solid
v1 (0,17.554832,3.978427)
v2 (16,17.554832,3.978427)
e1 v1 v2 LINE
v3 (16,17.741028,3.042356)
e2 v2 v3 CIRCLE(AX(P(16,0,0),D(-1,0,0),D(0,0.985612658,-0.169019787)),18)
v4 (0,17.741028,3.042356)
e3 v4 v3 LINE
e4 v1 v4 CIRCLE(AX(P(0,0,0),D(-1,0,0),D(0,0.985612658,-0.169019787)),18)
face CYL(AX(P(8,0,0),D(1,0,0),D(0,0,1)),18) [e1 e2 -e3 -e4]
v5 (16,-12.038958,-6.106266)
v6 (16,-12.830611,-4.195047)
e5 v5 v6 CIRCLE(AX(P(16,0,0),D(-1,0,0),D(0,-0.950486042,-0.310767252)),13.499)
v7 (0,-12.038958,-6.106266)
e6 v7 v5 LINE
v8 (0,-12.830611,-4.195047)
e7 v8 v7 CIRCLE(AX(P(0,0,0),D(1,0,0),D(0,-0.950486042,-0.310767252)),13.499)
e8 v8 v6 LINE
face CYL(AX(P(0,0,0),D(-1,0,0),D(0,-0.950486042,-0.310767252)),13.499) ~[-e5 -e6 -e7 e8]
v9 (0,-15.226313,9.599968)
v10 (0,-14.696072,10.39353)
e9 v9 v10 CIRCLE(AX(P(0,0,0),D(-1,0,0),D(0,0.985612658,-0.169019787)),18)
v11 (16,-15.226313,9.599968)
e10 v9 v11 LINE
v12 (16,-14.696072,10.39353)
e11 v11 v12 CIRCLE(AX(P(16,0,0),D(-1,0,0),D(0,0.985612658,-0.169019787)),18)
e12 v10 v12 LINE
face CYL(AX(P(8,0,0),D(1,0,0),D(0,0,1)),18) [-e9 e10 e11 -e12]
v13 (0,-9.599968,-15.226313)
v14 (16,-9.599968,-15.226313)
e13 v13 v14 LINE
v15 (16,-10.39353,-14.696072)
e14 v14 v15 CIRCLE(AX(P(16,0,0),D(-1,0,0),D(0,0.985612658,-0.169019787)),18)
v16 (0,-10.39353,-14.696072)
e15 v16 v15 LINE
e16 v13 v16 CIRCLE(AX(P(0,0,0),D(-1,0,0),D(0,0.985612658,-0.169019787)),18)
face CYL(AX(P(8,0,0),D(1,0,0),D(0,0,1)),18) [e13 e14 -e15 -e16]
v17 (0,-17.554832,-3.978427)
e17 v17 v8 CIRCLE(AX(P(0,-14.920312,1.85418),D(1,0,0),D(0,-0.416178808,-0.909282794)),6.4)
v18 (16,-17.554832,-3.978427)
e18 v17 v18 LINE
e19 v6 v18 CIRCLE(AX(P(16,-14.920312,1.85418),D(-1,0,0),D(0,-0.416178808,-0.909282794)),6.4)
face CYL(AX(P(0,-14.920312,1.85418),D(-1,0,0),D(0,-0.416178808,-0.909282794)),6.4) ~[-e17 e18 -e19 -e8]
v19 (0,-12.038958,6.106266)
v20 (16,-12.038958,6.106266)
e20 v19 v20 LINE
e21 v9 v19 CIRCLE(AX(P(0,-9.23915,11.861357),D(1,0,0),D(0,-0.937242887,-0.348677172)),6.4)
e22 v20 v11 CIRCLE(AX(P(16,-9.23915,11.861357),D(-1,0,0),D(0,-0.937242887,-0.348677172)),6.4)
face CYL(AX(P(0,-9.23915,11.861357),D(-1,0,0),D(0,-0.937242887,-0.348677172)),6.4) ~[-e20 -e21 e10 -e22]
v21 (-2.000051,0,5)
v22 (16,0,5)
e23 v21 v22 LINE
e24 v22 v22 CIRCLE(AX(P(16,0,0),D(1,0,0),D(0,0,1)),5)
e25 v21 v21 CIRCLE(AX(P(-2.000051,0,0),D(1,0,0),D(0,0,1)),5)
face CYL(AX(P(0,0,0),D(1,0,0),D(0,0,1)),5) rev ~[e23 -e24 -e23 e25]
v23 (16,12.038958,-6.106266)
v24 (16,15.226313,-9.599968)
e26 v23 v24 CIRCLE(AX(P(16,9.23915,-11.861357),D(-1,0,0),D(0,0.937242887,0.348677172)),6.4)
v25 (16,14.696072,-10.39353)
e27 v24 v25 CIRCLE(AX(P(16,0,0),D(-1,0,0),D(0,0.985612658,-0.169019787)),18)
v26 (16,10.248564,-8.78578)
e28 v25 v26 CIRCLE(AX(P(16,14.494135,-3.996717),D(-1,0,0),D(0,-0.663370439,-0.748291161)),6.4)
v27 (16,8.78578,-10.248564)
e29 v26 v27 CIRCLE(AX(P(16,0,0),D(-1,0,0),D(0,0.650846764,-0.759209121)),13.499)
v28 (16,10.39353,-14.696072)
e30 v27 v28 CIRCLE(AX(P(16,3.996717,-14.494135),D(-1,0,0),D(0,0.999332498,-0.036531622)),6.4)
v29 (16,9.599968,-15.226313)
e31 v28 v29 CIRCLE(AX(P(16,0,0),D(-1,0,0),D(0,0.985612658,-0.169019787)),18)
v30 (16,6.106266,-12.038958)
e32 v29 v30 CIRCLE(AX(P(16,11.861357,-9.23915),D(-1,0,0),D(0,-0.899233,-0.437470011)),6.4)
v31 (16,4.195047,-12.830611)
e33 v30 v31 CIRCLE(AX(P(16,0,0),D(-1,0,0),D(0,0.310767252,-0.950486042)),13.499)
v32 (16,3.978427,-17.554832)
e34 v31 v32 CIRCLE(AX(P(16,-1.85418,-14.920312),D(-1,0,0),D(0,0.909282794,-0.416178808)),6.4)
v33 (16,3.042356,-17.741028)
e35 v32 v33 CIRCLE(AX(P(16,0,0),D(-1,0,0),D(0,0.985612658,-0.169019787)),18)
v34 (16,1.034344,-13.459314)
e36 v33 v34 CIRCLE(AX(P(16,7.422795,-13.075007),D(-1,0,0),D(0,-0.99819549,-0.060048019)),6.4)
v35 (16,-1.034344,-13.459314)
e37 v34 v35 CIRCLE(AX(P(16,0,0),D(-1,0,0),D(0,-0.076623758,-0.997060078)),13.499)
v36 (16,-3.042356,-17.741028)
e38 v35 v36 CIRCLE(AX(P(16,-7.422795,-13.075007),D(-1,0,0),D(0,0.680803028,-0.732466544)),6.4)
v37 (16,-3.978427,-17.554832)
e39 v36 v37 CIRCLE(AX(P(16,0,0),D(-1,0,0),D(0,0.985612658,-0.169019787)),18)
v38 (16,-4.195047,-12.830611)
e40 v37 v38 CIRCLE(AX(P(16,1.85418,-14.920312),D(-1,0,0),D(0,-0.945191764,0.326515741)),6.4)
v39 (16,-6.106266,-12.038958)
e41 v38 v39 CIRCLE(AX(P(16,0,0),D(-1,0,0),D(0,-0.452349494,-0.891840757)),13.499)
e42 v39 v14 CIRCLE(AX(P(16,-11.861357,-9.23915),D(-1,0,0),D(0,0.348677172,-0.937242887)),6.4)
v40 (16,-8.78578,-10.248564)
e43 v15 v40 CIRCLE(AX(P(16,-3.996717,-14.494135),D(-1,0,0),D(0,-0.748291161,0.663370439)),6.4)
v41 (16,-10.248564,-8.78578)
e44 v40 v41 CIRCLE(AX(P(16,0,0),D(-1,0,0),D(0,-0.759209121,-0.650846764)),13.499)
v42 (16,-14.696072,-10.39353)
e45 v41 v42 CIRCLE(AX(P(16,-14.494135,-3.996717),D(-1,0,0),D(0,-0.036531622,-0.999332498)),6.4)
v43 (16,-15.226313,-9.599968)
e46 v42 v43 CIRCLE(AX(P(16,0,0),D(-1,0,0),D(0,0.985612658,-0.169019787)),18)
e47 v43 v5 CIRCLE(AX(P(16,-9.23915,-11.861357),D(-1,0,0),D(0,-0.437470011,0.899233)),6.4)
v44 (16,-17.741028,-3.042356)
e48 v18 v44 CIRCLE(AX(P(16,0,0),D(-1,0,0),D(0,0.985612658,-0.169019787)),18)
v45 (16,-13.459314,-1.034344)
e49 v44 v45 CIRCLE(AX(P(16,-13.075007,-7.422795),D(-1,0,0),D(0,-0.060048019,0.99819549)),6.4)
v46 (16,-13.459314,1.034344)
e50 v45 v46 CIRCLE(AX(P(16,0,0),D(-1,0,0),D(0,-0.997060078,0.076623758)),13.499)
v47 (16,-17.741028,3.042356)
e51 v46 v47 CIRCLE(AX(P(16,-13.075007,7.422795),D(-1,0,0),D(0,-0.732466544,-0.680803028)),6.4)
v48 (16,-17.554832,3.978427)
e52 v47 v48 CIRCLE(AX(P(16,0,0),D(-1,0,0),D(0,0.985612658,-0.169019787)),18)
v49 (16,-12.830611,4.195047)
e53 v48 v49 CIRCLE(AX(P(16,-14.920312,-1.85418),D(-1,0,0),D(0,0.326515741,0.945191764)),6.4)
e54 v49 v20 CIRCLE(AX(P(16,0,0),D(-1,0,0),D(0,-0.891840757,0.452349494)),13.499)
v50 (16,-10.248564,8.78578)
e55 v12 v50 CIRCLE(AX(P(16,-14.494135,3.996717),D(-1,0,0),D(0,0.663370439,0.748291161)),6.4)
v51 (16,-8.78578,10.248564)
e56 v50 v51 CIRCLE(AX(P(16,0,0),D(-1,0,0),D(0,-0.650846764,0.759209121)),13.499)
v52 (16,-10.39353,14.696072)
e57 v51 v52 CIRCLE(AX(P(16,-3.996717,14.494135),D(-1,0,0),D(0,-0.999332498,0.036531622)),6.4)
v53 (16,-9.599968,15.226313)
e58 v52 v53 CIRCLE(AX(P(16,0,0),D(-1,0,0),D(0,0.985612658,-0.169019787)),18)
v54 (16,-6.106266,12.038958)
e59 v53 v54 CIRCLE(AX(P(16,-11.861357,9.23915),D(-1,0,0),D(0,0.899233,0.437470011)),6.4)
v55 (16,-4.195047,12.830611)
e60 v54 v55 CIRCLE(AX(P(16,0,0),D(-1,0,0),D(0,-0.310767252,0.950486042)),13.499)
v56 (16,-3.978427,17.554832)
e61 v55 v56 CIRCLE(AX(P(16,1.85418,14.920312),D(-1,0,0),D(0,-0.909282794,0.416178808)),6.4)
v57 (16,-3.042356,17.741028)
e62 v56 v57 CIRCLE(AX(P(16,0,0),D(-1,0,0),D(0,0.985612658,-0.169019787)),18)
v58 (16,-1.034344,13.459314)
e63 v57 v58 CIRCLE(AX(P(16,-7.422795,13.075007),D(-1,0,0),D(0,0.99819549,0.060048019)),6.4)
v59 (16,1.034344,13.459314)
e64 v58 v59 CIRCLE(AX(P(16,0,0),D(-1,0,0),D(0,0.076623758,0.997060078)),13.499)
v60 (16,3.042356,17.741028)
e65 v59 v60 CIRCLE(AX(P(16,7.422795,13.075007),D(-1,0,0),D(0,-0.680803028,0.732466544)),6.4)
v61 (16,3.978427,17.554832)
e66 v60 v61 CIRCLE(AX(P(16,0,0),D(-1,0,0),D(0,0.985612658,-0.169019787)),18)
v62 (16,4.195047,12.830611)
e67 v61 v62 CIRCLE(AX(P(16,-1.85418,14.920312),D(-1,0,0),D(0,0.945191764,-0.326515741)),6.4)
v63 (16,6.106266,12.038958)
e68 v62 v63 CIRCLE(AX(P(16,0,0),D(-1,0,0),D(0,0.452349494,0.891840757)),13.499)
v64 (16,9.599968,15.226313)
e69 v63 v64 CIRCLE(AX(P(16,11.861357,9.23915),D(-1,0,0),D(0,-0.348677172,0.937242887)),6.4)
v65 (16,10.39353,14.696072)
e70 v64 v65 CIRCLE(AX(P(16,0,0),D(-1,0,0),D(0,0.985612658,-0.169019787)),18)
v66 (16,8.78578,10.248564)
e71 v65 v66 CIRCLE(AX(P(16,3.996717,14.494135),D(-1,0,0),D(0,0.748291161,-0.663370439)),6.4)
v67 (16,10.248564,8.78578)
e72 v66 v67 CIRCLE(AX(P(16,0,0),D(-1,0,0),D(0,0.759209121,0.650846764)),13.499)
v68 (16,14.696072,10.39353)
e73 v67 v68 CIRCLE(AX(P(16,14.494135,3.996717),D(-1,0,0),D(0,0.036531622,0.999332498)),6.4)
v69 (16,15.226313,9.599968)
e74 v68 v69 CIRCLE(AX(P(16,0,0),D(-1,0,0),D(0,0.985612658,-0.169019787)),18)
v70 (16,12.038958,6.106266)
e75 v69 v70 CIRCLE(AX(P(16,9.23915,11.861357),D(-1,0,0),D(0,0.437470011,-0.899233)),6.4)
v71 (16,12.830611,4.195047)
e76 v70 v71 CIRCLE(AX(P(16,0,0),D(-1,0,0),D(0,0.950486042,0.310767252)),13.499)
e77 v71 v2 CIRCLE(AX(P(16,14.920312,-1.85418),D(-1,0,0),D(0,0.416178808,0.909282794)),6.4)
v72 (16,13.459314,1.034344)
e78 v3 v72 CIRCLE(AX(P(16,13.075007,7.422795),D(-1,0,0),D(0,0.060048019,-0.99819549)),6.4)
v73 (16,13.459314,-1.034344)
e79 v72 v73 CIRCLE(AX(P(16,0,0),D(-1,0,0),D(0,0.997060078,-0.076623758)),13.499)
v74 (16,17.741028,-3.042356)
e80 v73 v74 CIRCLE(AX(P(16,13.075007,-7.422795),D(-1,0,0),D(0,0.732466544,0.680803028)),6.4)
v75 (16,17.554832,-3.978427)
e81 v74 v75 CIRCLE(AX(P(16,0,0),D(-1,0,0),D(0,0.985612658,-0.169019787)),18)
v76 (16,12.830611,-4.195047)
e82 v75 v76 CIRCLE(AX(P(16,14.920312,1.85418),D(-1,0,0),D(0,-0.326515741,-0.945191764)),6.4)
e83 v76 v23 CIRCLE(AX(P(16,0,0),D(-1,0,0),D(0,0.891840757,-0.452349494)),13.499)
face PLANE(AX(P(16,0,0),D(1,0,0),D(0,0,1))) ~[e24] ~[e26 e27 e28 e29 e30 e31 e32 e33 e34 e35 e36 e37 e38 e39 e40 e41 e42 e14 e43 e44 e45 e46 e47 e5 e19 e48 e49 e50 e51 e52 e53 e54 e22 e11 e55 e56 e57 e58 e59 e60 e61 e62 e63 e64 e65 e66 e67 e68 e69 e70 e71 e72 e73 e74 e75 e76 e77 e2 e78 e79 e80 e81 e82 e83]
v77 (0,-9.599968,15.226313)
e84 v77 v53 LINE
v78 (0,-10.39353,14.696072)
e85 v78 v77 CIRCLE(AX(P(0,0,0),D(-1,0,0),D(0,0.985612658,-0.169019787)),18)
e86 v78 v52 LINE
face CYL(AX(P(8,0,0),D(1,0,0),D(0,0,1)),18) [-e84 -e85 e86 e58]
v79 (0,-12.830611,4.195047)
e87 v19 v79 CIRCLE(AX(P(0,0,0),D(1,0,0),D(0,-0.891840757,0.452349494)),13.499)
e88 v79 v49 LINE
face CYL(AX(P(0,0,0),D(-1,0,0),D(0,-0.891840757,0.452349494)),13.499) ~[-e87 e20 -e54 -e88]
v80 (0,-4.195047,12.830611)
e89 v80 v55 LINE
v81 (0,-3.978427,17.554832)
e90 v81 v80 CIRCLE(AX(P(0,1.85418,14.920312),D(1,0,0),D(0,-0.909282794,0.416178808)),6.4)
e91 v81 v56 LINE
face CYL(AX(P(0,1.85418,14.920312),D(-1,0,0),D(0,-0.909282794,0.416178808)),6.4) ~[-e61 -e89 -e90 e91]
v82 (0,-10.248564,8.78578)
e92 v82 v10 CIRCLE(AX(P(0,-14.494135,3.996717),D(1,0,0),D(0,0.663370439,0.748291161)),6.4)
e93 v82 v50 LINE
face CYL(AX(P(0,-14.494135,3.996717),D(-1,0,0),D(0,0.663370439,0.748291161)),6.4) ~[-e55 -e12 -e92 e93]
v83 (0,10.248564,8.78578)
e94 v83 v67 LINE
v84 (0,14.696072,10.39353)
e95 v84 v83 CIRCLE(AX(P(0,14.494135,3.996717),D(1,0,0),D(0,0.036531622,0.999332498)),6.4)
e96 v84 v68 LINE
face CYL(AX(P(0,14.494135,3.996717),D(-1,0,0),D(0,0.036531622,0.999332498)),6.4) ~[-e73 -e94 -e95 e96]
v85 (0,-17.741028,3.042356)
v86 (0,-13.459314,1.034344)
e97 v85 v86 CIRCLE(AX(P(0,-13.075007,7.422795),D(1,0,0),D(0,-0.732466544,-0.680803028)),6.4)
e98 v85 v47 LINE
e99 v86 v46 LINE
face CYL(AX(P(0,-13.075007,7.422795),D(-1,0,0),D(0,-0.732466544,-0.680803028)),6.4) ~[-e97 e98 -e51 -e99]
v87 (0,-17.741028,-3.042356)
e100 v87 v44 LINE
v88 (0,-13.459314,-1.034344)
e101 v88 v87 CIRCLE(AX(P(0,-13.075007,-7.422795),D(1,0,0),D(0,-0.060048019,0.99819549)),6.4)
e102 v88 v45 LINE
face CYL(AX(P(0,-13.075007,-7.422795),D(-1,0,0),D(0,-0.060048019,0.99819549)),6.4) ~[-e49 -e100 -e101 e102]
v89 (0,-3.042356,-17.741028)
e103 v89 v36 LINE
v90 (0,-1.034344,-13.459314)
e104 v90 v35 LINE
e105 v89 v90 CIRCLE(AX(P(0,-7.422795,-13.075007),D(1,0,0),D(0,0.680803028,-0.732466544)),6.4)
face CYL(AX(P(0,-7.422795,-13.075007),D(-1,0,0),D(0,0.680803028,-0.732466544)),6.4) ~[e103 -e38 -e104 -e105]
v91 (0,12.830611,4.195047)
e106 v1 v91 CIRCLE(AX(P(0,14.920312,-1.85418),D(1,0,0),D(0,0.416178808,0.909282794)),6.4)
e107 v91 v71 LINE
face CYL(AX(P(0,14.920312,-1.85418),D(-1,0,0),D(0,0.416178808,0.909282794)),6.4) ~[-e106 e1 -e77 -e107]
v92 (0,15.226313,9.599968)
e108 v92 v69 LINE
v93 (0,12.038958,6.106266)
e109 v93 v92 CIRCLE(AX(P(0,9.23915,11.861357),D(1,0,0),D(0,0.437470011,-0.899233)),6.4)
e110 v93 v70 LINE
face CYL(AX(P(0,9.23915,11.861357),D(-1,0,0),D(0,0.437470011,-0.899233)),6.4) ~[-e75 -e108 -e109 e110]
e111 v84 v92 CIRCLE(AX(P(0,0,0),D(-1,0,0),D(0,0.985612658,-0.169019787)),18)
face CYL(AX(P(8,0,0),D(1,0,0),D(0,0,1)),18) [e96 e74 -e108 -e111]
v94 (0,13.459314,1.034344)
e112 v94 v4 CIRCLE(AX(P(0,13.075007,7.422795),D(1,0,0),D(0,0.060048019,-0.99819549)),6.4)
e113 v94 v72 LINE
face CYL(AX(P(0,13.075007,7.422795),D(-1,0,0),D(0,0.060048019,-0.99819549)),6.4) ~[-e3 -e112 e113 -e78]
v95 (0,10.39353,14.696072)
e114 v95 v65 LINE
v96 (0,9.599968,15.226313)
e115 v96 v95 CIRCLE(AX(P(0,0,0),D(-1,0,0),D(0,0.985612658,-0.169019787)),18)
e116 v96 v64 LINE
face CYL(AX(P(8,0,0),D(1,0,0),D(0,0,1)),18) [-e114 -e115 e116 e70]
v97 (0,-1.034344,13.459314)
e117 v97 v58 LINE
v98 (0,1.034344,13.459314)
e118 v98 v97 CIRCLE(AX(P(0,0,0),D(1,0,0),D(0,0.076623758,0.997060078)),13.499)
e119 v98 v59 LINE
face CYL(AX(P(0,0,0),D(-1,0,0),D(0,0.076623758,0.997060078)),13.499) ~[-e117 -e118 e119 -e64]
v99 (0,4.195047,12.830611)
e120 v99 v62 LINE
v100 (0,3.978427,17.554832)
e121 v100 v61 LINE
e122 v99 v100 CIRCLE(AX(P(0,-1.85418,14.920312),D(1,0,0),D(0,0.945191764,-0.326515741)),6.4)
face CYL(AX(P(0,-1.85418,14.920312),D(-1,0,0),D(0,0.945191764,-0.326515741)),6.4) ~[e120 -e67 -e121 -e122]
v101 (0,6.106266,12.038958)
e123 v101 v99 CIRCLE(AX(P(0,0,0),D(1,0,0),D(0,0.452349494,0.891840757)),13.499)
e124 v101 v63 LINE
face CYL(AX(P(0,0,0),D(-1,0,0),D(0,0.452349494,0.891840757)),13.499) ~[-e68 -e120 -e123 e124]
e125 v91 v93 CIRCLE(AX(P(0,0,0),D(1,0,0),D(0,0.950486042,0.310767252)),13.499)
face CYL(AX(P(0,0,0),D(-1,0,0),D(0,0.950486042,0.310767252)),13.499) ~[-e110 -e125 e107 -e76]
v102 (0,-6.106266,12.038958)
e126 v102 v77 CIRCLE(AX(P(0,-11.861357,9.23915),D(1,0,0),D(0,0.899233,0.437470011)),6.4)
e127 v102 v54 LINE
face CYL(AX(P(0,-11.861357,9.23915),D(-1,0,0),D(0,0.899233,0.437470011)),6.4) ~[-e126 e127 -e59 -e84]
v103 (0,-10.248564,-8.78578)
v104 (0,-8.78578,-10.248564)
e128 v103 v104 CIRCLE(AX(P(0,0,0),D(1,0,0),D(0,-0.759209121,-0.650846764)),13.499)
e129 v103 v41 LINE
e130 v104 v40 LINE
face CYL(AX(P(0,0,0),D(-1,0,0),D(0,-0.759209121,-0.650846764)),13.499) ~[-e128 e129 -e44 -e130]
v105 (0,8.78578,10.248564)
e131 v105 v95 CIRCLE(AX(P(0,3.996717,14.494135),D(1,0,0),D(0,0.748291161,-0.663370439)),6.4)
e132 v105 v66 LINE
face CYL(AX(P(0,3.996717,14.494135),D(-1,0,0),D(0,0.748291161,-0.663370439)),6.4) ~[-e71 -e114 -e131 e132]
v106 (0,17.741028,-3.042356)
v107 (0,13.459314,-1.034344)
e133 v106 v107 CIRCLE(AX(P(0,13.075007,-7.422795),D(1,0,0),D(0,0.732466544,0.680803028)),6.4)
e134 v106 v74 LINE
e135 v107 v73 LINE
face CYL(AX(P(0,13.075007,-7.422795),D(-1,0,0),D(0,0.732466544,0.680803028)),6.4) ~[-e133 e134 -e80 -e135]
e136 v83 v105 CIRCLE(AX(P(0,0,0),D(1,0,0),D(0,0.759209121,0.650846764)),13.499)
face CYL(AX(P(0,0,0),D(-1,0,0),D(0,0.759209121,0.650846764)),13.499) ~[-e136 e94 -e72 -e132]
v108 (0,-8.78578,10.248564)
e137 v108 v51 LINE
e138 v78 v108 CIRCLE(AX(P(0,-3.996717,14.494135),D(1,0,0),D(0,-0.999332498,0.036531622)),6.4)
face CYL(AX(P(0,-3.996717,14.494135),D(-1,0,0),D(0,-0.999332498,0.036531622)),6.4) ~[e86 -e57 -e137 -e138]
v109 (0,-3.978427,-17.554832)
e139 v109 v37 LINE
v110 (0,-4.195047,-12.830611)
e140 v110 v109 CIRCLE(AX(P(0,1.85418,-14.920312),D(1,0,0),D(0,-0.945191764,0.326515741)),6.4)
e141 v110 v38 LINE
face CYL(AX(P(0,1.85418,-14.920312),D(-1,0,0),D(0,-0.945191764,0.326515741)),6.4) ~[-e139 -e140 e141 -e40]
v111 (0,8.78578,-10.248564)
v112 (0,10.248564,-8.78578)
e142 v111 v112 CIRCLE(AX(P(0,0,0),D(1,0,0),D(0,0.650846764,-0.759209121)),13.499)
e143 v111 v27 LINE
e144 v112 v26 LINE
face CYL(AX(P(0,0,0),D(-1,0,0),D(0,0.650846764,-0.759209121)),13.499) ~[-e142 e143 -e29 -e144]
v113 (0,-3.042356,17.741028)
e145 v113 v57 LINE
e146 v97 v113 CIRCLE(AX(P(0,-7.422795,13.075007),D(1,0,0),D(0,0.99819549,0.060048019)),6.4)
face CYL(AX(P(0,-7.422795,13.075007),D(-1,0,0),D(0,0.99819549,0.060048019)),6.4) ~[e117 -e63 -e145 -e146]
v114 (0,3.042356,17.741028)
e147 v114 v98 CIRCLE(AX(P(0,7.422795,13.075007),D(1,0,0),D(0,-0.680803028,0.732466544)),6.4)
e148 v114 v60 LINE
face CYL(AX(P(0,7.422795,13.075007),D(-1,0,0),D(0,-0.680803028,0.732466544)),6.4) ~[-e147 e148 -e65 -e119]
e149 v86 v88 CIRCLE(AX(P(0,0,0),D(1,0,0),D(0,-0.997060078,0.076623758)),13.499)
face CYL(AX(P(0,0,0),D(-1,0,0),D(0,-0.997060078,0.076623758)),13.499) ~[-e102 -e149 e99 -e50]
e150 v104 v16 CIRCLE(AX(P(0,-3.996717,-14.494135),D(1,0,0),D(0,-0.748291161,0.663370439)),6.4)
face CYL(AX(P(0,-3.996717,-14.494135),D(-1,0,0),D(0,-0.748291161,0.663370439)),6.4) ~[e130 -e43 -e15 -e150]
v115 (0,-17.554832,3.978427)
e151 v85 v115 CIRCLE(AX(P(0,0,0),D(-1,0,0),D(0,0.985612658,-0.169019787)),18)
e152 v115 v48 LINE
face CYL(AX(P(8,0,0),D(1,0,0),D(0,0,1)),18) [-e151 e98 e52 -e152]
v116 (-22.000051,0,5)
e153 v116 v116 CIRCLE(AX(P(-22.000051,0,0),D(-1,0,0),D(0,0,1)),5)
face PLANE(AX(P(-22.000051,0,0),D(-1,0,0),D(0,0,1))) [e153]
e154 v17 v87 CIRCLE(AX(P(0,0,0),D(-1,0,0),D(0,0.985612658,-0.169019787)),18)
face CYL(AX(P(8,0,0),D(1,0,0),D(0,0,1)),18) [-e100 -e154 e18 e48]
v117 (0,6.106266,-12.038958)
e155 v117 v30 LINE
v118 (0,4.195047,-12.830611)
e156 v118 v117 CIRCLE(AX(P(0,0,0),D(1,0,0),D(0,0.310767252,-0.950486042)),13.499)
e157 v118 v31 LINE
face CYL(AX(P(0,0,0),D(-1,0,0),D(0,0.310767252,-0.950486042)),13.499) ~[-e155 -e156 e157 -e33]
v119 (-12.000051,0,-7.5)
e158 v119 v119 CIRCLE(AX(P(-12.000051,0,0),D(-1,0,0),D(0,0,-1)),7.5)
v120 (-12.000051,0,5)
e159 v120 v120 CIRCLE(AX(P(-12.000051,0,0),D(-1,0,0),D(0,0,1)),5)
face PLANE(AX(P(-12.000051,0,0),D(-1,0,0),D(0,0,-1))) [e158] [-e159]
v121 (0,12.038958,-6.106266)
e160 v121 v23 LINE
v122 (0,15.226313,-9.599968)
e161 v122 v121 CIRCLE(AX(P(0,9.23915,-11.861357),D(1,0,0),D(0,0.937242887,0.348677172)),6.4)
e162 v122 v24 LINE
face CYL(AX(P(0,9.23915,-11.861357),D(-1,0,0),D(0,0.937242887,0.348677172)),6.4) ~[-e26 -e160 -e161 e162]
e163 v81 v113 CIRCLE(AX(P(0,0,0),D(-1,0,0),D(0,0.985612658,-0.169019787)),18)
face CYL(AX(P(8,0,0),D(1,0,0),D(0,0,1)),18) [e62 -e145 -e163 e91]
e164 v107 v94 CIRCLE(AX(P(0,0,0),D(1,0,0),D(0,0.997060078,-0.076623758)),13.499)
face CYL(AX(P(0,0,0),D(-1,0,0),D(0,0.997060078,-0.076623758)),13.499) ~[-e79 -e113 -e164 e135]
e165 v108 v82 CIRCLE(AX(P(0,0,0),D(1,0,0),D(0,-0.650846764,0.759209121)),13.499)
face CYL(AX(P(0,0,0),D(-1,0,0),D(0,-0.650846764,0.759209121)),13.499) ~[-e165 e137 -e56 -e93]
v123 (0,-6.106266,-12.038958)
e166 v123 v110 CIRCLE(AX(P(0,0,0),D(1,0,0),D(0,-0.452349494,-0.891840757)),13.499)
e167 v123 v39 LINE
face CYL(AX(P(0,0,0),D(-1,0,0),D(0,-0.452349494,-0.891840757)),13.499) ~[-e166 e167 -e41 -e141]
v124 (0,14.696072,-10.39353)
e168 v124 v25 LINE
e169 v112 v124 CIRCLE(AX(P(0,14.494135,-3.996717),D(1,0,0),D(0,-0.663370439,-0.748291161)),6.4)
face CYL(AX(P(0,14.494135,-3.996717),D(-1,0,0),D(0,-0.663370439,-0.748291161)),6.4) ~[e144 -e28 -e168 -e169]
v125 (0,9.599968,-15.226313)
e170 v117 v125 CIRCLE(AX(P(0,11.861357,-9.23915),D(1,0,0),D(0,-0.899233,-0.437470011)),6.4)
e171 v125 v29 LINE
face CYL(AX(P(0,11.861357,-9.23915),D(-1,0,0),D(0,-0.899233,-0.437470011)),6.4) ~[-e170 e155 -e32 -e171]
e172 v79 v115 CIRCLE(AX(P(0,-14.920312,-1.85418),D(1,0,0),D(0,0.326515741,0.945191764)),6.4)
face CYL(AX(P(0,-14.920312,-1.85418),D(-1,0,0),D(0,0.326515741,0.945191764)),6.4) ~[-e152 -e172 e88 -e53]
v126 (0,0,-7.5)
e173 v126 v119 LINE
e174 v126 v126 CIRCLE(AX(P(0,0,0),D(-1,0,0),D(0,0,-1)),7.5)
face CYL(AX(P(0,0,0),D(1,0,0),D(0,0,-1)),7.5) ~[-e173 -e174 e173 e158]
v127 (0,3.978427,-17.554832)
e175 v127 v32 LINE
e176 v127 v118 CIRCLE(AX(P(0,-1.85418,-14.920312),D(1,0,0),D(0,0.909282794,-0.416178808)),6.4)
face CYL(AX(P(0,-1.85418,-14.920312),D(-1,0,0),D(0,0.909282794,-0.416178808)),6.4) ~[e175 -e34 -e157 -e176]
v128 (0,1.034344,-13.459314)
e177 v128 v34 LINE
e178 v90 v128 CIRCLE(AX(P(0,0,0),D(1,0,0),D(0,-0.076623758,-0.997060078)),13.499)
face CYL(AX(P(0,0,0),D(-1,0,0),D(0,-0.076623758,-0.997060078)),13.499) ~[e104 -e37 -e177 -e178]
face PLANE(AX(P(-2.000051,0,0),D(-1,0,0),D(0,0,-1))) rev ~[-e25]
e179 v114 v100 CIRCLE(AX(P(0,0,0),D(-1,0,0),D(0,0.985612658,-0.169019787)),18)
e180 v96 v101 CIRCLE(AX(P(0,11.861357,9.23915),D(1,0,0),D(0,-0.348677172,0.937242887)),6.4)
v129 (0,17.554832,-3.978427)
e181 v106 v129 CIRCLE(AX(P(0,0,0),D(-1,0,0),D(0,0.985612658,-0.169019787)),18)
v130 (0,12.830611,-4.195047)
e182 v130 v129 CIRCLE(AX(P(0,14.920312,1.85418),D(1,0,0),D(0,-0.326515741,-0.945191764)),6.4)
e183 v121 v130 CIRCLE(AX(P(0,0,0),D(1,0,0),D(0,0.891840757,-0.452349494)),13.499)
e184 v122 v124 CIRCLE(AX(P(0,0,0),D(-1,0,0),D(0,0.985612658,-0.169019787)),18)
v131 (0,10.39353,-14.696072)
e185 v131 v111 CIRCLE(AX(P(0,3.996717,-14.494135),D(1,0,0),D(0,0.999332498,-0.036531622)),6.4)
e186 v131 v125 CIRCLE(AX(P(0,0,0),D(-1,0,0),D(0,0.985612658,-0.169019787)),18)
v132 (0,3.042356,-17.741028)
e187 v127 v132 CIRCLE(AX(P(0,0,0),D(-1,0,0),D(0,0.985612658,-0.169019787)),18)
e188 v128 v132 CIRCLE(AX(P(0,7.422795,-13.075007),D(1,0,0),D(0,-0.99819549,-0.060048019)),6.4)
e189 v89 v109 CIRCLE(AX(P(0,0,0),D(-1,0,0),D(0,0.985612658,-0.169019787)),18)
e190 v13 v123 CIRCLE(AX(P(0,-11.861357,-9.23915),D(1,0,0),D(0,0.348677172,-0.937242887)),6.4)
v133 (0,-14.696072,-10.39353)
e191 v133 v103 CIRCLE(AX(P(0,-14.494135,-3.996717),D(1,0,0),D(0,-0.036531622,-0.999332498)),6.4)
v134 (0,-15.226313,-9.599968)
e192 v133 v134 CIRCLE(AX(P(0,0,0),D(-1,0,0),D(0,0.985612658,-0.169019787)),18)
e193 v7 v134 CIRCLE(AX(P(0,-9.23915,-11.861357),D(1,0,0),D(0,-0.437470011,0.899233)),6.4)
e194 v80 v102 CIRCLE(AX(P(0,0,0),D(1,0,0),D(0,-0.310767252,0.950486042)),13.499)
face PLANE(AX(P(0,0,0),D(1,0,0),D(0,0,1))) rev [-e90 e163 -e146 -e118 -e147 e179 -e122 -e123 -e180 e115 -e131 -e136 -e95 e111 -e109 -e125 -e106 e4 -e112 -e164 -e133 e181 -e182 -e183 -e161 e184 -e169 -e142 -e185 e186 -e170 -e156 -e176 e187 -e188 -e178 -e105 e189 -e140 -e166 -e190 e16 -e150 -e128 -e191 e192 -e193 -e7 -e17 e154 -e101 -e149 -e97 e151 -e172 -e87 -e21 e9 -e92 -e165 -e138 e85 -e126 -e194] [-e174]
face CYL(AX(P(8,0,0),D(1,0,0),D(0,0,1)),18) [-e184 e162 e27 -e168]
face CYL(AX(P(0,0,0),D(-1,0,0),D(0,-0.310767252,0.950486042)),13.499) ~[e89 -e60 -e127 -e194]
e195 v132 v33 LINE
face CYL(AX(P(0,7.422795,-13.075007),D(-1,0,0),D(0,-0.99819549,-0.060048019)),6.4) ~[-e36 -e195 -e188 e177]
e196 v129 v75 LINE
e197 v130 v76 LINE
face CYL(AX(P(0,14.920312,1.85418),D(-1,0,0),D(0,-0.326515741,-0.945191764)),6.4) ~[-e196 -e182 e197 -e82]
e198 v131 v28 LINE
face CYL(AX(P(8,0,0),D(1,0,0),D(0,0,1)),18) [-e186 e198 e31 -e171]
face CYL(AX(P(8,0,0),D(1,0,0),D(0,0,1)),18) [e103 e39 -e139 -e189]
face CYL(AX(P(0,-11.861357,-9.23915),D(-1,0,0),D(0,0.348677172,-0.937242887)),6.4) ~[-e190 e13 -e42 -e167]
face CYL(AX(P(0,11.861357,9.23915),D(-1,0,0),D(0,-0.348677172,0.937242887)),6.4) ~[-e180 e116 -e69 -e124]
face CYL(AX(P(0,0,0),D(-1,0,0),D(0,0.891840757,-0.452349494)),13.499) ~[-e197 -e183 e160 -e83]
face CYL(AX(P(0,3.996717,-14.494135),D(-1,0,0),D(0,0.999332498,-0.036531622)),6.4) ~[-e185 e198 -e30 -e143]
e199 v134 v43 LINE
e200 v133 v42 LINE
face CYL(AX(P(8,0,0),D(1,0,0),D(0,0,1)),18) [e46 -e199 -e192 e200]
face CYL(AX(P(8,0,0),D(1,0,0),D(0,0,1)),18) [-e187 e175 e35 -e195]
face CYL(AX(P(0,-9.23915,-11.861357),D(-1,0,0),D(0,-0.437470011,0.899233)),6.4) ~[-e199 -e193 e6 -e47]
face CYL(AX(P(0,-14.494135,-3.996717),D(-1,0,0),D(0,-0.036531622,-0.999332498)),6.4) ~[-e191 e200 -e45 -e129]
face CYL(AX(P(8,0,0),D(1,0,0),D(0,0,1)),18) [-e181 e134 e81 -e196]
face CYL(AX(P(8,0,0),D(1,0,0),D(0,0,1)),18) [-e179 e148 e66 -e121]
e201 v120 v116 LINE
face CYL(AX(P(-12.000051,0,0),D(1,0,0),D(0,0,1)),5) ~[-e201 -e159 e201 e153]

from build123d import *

# Parameters (mm, degrees)
BASPROSKE_W         = 16
BASPROSKE_H         = 18
TOOTHCUT_DEPTH      = 31.066592757
TEETHCUTS_COUNT     = 16
TEETHCUTS_ANGLE     = 337.5
HUBNEAONESKE_R      = 7.5
HUBNEARONE_DEPTH    = 22.0000508
BORSKE_R            = 5
BORE_DEPTH          = 38.0000508
CUT_EXTRUDE1_START  = -10
SKETCH3_R           = 7.5
CUT_EXTRUDE1_DEPTH  = 10
BOSS_EXTRUDE1_START = -10
SKETCH4_R           = 7.5
BOSS_EXTRUDE1_DEPTH = 10
SKETCH5_R           = 5
BOSS_EXTRUDE2_DEPTH = 10


with BuildPart() as part:
    # BasProSke → Base-Revolve (revolve)
    with BuildSketch(Plane(origin=(0, 0, 0), x_dir=(1, 0, 0), z_dir=(0, 1, 0)), mode=Mode.PRIVATE) as base_revolve_sk:
        with Locations((8, 9)):
            Rectangle(BASPROSKE_W, BASPROSKE_H)
    revolve(base_revolve_sk.sketch.rotate(Axis((-10, 0, 0), (1, 0, 0)), 180), axis=Axis((-10, 0, 0), (1, 0, 0)))

    # TooCutSke → ToothCut (cut, through all)
    with BuildSketch(Plane(origin=(0, 0, 0), x_dir=(0, 0, -1), z_dir=(1, 0, 0))):
        with BuildLine():
            ThreePointArc((1.03434411, 13.459313997), (0, 13.499), (-1.03434411, 13.459313997))
            ThreePointArc((-1.03434411, 13.459313997), (-1.635143665, 15.806872195), (-3.065655864, 17.762792553))
            ThreePointArc((-3.065655864, 17.762792553), (0, 18.0254), (3.065655864, 17.762792553))
            ThreePointArc((3.065655864, 17.762792553), (1.635143665, 15.806872195), (1.03434411, 13.459313997))
        make_face()
    toothcut = extrude(amount=TOOTHCUT_DEPTH, mode=Mode.SUBTRACT)

    # TeethCuts: ToothCut ×16 about axis
    teethcuts_axis = Axis((-10, 0, 0), (1, 0, 0))
    for i in range(1, TEETHCUTS_COUNT):
        add(toothcut.rotate(teethcuts_axis, i * TEETHCUTS_ANGLE / (TEETHCUTS_COUNT - 1)), mode=Mode.SUBTRACT)

    # HubNeaOneSke → HubNearOne (add)
    with BuildSketch(Plane.ZY):
        with Locations(Location((0, 0, 0), (0, 0, 180))):
            Circle(HUBNEAONESKE_R)
    extrude(amount=HUBNEARONE_DEPTH)

    # BorSke → Bore (cut, symmetric)
    with BuildSketch(Plane(origin=(0, 0, 0), x_dir=(0, 0, -1), z_dir=(1, 0, 0))):
        with Locations(Location((0, 0, 0), (0, 0, 180))):
            Circle(BORSKE_R)
    extrude(amount=BORE_DEPTH, both=True, mode=Mode.SUBTRACT)

    # Sketch3 → Cut-Extrude1 (cut)
    with BuildSketch(Plane.ZY.offset(22.0000508).offset(CUT_EXTRUDE1_START)):
        with Locations(Location((0, 0, 0), (0, 0, 180))):
            Circle(SKETCH3_R)
    extrude(amount=CUT_EXTRUDE1_DEPTH, mode=Mode.SUBTRACT)

    # Sketch4 → Boss-Extrude1 (add)
    with BuildSketch(Plane.ZY.offset(12.0000508).offset(BOSS_EXTRUDE1_START)):
        with Locations(Location((0, 0, 0), (0, 0, 180))):
            Circle(SKETCH4_R)
    extrude(amount=BOSS_EXTRUDE1_DEPTH)

    # Sketch5 → Boss-Extrude2 (add)
    with BuildSketch(Plane.ZY.offset(12.0000508)):
        Circle(SKETCH5_R)
    extrude(amount=BOSS_EXTRUDE2_DEPTH)


solid = part.part
